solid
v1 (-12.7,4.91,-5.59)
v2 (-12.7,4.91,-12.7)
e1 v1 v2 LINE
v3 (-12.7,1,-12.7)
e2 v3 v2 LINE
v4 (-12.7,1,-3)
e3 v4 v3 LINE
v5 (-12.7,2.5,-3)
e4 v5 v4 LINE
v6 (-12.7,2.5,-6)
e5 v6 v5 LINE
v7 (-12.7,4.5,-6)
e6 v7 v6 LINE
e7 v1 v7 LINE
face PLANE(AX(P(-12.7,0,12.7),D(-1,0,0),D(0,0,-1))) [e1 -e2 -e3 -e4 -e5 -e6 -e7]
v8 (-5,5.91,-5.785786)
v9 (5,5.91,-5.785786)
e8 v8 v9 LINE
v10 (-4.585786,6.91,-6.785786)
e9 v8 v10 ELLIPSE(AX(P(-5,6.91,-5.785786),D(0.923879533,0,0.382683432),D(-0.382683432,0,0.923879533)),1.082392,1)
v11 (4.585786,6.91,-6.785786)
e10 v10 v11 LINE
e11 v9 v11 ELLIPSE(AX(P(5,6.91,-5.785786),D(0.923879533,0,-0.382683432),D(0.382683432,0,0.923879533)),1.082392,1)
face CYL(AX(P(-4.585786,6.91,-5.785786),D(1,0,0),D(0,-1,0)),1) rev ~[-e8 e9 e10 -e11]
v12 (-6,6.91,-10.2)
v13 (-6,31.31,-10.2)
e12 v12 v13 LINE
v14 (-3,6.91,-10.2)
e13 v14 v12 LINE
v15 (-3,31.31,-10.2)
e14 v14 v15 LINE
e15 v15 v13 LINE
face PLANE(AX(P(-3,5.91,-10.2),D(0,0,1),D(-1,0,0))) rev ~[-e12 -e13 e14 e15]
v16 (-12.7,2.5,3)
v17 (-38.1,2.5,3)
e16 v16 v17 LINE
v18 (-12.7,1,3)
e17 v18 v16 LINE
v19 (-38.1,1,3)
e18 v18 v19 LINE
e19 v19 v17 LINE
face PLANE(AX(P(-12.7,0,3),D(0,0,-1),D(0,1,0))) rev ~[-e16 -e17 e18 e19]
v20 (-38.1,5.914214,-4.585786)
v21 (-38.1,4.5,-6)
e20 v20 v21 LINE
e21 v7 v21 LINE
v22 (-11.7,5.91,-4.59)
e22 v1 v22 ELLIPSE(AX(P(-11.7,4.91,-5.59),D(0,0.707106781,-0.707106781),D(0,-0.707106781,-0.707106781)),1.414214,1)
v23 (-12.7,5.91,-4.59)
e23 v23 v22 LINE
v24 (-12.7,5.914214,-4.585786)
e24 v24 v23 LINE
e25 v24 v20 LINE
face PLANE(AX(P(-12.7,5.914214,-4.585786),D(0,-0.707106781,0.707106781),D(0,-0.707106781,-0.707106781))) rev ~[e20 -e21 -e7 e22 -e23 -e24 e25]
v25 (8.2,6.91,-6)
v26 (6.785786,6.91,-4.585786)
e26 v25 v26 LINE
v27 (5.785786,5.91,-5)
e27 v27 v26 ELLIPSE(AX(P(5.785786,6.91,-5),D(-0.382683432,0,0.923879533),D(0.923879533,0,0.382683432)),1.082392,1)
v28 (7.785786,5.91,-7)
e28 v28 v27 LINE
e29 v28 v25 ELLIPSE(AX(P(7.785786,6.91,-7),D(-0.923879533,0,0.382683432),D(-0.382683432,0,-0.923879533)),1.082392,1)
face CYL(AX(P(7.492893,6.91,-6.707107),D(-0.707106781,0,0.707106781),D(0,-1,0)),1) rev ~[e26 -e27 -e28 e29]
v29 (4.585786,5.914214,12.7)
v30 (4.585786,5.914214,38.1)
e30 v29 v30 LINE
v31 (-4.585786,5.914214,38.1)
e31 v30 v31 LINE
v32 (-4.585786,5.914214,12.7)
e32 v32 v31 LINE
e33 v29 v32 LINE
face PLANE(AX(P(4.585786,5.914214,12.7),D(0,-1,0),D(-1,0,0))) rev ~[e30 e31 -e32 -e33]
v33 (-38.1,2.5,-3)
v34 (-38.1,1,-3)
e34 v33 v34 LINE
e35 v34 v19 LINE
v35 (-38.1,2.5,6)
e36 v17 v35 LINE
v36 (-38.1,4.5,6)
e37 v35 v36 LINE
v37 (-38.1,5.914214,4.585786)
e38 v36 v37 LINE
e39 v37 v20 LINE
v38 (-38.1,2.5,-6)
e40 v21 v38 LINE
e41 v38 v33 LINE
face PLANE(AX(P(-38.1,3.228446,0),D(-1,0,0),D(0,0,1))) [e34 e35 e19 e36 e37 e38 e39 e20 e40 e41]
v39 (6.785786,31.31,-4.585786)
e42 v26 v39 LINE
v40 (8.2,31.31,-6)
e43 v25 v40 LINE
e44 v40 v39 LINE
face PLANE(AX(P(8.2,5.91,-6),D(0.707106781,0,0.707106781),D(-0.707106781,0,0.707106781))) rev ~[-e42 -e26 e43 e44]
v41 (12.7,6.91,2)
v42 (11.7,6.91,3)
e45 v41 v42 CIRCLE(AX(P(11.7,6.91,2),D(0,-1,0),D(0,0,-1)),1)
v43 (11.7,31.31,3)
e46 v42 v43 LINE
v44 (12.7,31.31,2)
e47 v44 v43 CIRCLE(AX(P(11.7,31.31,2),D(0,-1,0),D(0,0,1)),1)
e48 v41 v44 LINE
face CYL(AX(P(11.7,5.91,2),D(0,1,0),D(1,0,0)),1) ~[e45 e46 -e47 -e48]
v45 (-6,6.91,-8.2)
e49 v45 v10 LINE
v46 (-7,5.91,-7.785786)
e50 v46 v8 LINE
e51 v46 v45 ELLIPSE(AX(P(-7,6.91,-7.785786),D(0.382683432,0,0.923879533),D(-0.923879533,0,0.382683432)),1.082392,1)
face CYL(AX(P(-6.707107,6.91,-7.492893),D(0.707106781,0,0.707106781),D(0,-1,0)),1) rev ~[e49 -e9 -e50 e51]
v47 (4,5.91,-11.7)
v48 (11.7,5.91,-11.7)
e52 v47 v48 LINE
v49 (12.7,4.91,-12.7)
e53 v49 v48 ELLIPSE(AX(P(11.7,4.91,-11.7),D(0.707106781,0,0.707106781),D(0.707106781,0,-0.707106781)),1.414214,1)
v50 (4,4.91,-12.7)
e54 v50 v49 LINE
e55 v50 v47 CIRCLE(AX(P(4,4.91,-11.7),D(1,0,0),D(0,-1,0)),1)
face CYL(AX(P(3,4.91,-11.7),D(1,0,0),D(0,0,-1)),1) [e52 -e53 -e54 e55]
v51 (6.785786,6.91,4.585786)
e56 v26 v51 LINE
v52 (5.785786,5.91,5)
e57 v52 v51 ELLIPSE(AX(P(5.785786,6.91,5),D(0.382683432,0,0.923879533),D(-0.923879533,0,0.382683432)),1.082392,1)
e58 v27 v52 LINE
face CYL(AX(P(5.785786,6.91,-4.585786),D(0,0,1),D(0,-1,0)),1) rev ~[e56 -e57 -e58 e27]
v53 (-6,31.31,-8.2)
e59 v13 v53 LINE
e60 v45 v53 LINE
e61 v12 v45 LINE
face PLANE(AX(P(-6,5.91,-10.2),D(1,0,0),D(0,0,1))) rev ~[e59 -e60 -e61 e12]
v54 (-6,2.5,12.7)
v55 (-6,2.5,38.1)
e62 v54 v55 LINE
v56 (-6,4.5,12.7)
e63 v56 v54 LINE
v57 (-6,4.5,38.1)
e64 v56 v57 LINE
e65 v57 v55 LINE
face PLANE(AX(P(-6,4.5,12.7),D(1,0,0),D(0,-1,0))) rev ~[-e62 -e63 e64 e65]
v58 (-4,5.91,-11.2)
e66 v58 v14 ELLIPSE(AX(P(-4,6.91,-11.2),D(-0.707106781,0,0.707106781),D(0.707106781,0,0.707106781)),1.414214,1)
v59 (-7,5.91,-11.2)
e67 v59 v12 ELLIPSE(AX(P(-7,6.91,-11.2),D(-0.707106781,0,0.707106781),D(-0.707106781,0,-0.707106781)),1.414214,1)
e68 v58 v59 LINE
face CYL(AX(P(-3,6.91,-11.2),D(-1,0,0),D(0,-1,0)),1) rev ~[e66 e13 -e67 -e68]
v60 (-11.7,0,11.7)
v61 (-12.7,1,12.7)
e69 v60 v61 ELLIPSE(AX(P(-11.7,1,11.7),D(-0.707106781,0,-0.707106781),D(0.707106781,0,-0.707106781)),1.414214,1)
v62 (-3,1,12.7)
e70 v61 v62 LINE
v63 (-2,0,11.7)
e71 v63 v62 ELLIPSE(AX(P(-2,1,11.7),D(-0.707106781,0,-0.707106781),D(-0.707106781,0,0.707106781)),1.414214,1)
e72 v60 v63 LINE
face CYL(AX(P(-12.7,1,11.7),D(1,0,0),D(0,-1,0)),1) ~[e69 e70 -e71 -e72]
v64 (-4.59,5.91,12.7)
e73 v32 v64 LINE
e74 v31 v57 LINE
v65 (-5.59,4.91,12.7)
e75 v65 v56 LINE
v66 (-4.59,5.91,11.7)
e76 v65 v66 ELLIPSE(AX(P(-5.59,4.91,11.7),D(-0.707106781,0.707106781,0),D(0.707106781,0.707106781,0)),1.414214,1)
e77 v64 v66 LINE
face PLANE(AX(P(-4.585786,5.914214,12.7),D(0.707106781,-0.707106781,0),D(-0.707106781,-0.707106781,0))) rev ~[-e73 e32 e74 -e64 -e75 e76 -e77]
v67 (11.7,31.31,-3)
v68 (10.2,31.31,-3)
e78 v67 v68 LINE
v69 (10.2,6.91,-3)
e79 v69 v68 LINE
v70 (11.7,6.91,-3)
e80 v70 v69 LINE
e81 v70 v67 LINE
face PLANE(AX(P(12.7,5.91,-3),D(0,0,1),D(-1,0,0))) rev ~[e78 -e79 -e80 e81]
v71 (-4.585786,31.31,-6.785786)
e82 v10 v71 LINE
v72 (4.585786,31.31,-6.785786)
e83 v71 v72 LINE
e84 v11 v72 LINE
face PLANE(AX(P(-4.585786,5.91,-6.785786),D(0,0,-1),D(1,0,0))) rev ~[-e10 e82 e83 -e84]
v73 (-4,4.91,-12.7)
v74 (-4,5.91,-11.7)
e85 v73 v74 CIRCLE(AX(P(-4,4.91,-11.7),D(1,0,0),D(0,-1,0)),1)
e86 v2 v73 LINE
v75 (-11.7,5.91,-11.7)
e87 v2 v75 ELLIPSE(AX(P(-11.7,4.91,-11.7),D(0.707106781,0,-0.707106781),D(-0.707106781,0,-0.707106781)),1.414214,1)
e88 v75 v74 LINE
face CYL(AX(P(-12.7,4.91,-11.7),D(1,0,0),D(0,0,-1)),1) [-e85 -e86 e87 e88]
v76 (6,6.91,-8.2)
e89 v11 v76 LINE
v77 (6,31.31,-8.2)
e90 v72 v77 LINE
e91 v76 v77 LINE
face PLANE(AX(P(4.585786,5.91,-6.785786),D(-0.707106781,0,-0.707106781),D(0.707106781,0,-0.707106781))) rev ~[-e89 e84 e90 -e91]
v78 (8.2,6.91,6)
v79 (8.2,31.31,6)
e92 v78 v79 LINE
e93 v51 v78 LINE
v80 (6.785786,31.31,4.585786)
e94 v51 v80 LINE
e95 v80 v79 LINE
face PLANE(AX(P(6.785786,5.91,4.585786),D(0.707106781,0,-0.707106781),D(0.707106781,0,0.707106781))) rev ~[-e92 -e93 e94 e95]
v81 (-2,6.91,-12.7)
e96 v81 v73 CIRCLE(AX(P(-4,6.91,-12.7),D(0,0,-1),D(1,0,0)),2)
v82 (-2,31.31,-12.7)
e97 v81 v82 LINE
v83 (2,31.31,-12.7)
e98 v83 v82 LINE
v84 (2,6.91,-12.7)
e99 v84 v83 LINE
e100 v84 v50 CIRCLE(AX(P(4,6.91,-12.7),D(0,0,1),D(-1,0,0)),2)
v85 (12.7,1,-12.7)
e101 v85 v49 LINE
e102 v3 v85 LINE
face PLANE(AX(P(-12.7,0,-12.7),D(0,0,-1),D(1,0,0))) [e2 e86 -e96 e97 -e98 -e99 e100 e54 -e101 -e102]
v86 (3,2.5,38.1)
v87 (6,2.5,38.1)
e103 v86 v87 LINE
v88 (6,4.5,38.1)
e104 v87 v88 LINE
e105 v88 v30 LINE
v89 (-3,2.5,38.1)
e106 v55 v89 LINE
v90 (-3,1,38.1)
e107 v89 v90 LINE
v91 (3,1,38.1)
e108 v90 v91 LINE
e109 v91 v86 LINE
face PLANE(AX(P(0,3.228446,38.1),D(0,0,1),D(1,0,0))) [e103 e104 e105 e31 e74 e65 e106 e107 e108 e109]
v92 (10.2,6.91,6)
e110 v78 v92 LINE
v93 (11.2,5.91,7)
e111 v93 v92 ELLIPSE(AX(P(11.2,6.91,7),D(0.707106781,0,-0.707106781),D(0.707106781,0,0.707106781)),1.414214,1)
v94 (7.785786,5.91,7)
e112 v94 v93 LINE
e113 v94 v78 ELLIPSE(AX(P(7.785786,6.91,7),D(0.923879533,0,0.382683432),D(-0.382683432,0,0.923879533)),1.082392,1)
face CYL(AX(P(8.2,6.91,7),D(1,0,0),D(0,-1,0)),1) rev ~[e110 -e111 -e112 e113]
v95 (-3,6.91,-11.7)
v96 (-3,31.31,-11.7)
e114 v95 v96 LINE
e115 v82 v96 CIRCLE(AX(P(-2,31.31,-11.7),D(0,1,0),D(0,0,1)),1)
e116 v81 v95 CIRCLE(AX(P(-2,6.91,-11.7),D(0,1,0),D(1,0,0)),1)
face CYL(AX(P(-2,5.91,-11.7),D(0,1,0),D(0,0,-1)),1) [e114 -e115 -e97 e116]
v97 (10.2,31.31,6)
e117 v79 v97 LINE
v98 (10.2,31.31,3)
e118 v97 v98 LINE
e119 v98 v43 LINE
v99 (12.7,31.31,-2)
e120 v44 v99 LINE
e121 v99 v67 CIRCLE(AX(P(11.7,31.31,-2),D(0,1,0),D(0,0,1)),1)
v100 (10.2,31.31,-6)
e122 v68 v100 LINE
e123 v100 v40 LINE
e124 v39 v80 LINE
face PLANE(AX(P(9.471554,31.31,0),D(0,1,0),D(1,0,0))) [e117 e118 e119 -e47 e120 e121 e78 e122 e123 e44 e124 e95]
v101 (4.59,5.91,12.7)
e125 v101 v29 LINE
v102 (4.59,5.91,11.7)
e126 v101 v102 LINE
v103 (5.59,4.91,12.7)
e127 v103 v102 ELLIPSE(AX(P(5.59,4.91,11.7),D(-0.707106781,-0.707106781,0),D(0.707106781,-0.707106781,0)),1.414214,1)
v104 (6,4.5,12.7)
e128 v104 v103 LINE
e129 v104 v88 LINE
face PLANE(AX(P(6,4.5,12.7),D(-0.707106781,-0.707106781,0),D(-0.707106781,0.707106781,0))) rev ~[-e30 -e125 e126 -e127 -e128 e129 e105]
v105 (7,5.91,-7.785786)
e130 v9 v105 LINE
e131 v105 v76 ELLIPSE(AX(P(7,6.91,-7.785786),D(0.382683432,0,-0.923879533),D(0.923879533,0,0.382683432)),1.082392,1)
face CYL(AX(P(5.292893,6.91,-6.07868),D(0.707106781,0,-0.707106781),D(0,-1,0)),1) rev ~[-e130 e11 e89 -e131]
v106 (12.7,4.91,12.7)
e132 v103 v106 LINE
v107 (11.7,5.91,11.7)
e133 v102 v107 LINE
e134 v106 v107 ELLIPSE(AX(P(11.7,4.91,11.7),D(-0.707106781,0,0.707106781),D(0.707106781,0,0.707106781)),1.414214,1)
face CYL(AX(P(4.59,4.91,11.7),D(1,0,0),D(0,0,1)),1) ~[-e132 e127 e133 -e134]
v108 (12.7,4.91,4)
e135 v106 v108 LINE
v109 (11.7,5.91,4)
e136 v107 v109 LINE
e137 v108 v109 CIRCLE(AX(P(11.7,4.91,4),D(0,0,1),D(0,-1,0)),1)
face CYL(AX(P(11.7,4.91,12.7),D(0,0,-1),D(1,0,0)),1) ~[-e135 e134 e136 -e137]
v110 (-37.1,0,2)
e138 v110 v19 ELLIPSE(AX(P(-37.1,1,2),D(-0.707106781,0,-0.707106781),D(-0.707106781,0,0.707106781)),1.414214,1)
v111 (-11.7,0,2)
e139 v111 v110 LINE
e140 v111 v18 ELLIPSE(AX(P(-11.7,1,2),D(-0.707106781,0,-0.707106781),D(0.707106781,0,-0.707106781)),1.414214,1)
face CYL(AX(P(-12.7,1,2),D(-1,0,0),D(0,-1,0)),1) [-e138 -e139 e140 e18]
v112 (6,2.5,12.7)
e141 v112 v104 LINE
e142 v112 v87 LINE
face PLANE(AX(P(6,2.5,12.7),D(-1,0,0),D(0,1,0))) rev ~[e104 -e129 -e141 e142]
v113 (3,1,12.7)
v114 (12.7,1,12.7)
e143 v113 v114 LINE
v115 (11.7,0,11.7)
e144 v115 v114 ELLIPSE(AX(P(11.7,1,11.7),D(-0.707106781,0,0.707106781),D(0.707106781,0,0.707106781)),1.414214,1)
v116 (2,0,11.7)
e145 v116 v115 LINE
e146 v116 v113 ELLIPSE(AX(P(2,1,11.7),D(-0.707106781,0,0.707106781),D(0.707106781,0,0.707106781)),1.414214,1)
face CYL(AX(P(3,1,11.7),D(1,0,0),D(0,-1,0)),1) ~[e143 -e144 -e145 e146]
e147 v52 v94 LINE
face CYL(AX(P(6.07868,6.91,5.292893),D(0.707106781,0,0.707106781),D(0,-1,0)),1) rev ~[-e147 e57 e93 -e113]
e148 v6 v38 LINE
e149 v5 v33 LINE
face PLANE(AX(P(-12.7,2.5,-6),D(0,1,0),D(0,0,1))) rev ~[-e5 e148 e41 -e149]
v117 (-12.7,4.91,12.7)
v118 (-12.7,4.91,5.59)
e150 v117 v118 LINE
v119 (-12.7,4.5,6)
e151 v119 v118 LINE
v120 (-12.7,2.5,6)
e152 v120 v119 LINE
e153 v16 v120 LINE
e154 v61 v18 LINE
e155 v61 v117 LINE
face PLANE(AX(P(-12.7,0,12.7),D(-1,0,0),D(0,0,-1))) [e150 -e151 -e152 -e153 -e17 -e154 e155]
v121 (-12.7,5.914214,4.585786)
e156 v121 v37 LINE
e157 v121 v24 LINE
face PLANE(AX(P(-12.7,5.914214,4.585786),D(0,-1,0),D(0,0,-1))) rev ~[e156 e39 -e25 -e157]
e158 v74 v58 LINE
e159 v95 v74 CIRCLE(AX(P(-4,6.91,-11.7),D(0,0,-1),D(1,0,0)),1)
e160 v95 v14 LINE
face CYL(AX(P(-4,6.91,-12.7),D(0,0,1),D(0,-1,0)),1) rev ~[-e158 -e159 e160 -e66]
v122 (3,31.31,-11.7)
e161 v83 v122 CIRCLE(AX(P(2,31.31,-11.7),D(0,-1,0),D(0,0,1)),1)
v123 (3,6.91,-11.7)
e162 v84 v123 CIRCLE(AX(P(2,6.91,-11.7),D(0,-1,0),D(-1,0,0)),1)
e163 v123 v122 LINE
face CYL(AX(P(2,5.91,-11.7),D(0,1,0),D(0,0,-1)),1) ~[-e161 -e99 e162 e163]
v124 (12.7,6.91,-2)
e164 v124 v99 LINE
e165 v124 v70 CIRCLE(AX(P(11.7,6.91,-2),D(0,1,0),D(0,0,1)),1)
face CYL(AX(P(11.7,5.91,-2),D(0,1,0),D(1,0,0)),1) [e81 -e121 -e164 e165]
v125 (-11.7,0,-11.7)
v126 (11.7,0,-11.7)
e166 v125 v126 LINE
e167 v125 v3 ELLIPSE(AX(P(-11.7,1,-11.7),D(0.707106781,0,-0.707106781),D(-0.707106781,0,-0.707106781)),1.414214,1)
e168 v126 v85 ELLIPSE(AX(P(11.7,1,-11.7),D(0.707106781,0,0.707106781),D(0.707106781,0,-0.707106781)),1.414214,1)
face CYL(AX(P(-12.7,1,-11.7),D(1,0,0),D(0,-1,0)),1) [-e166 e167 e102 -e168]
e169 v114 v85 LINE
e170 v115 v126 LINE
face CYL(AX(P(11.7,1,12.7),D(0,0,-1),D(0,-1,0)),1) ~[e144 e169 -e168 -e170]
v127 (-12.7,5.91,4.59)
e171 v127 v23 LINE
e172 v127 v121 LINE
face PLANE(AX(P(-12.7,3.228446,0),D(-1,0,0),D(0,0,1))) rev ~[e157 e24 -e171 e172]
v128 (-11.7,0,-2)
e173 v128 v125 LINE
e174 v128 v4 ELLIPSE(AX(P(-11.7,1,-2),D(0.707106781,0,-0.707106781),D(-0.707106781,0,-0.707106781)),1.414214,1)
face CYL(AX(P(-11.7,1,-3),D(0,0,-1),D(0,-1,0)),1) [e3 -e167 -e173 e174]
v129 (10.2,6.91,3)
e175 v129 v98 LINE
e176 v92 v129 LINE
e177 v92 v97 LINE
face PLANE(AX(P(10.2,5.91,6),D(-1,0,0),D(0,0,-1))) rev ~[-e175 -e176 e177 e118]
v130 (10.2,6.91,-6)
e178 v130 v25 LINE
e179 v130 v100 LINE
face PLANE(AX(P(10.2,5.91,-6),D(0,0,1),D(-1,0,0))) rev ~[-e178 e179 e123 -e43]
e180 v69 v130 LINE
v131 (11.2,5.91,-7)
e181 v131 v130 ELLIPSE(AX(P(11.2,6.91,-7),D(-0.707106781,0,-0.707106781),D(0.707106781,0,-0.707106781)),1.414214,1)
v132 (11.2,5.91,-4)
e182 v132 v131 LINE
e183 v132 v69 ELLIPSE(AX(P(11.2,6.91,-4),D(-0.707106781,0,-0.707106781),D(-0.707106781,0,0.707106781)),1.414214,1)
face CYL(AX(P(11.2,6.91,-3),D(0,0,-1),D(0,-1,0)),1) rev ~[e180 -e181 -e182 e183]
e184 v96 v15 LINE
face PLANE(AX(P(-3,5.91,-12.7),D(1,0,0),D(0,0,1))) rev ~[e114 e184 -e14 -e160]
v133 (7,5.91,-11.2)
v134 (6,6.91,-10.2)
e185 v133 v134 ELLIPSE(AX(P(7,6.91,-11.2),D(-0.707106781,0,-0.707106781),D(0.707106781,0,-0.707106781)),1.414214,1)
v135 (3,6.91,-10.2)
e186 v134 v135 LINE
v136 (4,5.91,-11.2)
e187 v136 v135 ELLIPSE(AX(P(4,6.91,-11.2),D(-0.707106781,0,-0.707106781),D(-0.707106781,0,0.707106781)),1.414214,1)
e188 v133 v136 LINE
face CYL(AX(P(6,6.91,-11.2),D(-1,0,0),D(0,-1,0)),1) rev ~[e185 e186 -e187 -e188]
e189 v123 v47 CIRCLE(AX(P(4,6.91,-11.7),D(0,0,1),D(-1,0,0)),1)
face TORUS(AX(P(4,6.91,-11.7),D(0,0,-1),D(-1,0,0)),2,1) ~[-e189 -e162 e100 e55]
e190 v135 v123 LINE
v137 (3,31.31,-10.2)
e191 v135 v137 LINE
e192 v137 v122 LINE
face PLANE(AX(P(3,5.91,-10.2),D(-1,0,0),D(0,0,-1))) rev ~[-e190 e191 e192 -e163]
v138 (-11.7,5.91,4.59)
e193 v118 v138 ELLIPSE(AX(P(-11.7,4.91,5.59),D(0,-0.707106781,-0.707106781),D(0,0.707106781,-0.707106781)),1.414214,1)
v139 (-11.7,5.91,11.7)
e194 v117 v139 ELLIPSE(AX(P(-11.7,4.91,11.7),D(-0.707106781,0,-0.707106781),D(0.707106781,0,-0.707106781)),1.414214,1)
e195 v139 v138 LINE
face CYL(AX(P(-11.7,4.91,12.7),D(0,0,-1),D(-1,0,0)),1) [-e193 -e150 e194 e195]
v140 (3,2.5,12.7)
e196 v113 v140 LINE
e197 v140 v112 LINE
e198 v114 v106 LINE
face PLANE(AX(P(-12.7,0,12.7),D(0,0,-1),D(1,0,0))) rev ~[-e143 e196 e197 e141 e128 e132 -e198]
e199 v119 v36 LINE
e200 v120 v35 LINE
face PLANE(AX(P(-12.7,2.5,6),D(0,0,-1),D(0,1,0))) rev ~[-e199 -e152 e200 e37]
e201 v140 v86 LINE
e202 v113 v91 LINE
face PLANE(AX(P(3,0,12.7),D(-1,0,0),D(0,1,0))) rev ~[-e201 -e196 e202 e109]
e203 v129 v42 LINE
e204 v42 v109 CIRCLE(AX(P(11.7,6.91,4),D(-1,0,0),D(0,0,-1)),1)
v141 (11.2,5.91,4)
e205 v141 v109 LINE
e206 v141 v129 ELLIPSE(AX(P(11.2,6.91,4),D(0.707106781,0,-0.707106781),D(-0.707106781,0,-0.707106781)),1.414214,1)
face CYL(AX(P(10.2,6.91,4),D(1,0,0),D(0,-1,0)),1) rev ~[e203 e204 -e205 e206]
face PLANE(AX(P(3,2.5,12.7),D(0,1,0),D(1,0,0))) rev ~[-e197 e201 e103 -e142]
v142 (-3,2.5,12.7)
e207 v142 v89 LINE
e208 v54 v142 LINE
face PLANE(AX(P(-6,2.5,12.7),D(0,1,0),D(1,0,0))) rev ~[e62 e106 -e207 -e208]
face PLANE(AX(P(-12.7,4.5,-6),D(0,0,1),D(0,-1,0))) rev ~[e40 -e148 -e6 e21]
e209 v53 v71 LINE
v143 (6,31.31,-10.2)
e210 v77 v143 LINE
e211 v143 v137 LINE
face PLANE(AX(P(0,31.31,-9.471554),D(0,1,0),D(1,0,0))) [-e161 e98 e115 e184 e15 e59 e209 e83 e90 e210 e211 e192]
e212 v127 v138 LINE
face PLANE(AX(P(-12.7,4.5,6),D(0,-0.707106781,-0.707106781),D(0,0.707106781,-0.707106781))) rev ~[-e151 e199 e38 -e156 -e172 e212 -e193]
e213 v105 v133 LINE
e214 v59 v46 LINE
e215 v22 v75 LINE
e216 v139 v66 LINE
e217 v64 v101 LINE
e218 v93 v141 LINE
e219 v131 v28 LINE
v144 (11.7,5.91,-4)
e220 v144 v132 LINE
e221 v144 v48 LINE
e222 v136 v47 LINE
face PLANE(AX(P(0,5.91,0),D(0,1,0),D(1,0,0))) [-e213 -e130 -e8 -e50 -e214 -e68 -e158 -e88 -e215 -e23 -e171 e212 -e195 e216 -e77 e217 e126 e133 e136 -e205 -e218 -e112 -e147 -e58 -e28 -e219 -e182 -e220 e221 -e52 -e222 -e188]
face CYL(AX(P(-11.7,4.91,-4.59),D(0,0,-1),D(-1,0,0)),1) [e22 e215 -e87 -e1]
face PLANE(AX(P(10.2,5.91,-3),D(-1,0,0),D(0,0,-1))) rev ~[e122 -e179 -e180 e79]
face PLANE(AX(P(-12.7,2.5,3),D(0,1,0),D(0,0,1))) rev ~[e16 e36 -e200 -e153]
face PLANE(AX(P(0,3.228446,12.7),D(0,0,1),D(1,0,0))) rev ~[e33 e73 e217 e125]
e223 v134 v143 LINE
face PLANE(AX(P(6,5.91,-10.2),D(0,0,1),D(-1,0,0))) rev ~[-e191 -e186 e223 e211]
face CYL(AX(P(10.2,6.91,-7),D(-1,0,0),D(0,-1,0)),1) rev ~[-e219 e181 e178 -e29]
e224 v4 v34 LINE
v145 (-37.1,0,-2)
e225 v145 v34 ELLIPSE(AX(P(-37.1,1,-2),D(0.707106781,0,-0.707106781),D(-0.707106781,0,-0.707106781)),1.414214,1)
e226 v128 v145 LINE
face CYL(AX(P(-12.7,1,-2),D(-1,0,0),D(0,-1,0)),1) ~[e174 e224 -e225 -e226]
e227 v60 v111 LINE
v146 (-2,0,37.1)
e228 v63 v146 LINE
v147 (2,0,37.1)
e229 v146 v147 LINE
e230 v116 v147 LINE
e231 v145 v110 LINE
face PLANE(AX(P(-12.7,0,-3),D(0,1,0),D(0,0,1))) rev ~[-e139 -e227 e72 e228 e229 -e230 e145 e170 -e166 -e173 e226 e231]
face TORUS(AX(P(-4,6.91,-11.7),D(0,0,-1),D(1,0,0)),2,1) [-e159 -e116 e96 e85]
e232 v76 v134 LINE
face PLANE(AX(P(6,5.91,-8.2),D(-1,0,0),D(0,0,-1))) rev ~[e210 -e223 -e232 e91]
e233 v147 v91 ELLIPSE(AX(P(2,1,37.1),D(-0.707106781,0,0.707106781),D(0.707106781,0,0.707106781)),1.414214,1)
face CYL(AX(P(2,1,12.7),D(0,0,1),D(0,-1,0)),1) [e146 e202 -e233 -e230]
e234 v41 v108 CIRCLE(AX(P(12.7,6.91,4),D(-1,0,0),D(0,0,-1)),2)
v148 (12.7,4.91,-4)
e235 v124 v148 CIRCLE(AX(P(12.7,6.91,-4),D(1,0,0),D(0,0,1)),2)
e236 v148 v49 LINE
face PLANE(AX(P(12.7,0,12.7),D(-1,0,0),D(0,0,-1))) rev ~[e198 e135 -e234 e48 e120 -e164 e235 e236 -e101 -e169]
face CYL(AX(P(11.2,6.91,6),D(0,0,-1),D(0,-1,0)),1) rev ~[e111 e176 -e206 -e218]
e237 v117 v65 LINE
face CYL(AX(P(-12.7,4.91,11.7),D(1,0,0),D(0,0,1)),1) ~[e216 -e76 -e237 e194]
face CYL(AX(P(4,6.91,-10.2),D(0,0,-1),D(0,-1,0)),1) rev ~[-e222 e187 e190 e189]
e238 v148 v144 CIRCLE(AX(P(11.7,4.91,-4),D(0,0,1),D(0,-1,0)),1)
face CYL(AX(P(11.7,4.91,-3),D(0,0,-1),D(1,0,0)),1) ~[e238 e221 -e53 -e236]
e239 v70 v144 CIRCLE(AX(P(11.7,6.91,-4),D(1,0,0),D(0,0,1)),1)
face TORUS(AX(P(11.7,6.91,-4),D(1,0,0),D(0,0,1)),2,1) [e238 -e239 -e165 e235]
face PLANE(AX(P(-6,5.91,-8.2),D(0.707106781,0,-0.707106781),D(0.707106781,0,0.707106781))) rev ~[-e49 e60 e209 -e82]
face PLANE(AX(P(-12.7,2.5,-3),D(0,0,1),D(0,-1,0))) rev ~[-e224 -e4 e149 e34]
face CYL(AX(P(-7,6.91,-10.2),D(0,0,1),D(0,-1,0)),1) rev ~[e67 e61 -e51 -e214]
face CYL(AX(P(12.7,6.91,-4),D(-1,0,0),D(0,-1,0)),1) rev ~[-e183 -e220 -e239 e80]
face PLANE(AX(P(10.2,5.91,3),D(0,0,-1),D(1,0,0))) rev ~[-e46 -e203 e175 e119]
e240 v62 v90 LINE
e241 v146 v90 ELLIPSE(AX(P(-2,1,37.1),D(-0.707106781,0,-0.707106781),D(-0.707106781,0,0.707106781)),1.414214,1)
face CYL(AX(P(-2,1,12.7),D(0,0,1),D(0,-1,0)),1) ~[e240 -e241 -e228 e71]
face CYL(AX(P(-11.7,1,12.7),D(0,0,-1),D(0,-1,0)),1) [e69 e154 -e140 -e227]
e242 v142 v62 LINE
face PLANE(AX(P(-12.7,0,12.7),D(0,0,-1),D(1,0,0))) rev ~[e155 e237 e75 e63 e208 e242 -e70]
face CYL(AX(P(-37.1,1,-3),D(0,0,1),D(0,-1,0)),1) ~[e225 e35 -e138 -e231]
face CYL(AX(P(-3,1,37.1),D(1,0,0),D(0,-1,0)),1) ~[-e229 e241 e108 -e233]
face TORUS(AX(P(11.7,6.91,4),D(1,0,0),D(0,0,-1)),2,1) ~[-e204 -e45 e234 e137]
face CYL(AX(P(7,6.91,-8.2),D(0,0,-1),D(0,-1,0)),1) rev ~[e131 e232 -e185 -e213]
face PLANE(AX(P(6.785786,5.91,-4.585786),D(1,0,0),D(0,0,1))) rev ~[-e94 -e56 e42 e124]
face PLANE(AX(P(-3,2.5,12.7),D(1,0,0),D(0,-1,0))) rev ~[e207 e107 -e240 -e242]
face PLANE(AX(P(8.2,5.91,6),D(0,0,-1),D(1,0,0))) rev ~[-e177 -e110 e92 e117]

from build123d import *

# Parameters (mm, degrees)
SKETCH1_W           = 25.4
SKETCH1_H           = 25.4
BOSS_EXTRUDE1_DEPTH = 5.91
BOSS_EXTRUDE2_DEPTH = 25.4
BOSS_EXTRUDE3_DEPTH = 25.4
BOSS_EXTRUDE4_DEPTH = 25.4
FILLET2_R           = 1


with BuildPart() as part:
    # Sketch1 → Boss-Extrude1 (new body)
    with BuildSketch(Plane(origin=(0, 0, 0), x_dir=(1, 0, 0), z_dir=(0, 1, 0))):
        Rectangle(SKETCH1_W, SKETCH1_H)
    extrude(amount=BOSS_EXTRUDE1_DEPTH)

    # Sketch2 → Boss-Extrude2 (add)
    with BuildSketch(Plane.XY.offset(12.7)):
        Polygon((-3, 0), (3, 0), (3, 2.5), (6, 2.5), (6, 4.5), (4.585786438, 5.914213562), (-4.585786438, 5.914213562), (-6, 4.5), (-6, 2.5), (-3, 2.5), align=None)
    extrude(amount=BOSS_EXTRUDE2_DEPTH)

    # Sketch3 → Boss-Extrude3 (add)
    with BuildSketch(Plane.ZY.offset(12.7)):
        Polygon((-3, 0), (3, 0), (3, 2.5), (6, 2.5), (6, 4.5), (4.585786438, 5.914213562), (-4.585786438, 5.914213562), (-6, 4.5), (-6, 2.5), (-3, 2.5), align=None)
    extrude(amount=BOSS_EXTRUDE3_DEPTH)

    # Sketch5 → Boss-Extrude4 (add)
    with BuildSketch(Plane(origin=(0, 5.91, 0), x_dir=(1, 0, 0), z_dir=(0, 1, 0))):
        Polygon((3, 12.7), (-3, 12.7), (-3, 10.2), (-6, 10.2), (-6, 8.2), (-4.585786438, 6.785786438), (4.585786438, 6.785786438), (6, 8.2), (6, 10.2), (3, 10.2), align=None)
        Polygon((12.7, -3), (12.7, 3), (10.2, 3), (10.2, 6), (8.2, 6), (6.785786438, 4.585786438), (6.785786438, -4.585786438), (8.2, -6), (10.2, -6), (10.2, -3), align=None)
    extrude(amount=BOSS_EXTRUDE4_DEPTH)

    # Fillet2
    fillet2_edges = [part.edges().sort_by_distance(p)[0] for p in [
        (6.785786438, 5.91, 0),
        (7.492893219, 5.91, 5.292893219),
        (9.2, 5.91, 6),
        (10.2, 5.91, 4.5),
        (11.45, 5.91, 3),
        (12.7, 18.61, 3),
        (-12.7, 5.91, -8.645),
        (7.85, 0, 12.7),
        (8.645, 5.91, 12.7),
        (-8.645, 5.91, 12.7),
        (3, 0, 25.4),
        (-3, 0, 25.4),
        (0, 0, 38.1),
        (-12.7, 0, 7.85),
        (-12.7, 5.91, 8.645),
        (-25.4, 0, 3),
        (12.7, 5.91, 7.85),
        (-7.85, 0, 12.7),
        (-12.7, 0, -7.85),
        (-25.4, 0, -3),
        (-38.1, 0, 0),
        (0, 0, -12.7),
        (12.7, 0, 0),
        (12.7, 5.91, -7.85),
        (-7.85, 5.91, -12.7),
        (-3, 5.91, -11.45),
        (-3, 18.61, -12.7),
        (-4.5, 5.91, -10.2),
        (-6, 5.91, -9.2),
        (-5.292893219, 5.91, -7.492893219),
        (0, 5.91, -6.785786438),
        (5.292893219, 5.91, -7.492893219),
        (6, 5.91, -9.2),
        (4.5, 5.91, -10.2),
        (3, 5.91, -11.45),
        (3, 18.61, -12.7),
        (7.85, 5.91, -12.7),
        (11.45, 5.91, -3),
        (12.7, 18.61, -3),
        (10.2, 5.91, -4.5),
        (9.2, 5.91, -6),
        (7.492893219, 5.91, -5.292893219),
    ]]
    fillet(fillet2_edges, radius=FILLET2_R)


solid = part.part
